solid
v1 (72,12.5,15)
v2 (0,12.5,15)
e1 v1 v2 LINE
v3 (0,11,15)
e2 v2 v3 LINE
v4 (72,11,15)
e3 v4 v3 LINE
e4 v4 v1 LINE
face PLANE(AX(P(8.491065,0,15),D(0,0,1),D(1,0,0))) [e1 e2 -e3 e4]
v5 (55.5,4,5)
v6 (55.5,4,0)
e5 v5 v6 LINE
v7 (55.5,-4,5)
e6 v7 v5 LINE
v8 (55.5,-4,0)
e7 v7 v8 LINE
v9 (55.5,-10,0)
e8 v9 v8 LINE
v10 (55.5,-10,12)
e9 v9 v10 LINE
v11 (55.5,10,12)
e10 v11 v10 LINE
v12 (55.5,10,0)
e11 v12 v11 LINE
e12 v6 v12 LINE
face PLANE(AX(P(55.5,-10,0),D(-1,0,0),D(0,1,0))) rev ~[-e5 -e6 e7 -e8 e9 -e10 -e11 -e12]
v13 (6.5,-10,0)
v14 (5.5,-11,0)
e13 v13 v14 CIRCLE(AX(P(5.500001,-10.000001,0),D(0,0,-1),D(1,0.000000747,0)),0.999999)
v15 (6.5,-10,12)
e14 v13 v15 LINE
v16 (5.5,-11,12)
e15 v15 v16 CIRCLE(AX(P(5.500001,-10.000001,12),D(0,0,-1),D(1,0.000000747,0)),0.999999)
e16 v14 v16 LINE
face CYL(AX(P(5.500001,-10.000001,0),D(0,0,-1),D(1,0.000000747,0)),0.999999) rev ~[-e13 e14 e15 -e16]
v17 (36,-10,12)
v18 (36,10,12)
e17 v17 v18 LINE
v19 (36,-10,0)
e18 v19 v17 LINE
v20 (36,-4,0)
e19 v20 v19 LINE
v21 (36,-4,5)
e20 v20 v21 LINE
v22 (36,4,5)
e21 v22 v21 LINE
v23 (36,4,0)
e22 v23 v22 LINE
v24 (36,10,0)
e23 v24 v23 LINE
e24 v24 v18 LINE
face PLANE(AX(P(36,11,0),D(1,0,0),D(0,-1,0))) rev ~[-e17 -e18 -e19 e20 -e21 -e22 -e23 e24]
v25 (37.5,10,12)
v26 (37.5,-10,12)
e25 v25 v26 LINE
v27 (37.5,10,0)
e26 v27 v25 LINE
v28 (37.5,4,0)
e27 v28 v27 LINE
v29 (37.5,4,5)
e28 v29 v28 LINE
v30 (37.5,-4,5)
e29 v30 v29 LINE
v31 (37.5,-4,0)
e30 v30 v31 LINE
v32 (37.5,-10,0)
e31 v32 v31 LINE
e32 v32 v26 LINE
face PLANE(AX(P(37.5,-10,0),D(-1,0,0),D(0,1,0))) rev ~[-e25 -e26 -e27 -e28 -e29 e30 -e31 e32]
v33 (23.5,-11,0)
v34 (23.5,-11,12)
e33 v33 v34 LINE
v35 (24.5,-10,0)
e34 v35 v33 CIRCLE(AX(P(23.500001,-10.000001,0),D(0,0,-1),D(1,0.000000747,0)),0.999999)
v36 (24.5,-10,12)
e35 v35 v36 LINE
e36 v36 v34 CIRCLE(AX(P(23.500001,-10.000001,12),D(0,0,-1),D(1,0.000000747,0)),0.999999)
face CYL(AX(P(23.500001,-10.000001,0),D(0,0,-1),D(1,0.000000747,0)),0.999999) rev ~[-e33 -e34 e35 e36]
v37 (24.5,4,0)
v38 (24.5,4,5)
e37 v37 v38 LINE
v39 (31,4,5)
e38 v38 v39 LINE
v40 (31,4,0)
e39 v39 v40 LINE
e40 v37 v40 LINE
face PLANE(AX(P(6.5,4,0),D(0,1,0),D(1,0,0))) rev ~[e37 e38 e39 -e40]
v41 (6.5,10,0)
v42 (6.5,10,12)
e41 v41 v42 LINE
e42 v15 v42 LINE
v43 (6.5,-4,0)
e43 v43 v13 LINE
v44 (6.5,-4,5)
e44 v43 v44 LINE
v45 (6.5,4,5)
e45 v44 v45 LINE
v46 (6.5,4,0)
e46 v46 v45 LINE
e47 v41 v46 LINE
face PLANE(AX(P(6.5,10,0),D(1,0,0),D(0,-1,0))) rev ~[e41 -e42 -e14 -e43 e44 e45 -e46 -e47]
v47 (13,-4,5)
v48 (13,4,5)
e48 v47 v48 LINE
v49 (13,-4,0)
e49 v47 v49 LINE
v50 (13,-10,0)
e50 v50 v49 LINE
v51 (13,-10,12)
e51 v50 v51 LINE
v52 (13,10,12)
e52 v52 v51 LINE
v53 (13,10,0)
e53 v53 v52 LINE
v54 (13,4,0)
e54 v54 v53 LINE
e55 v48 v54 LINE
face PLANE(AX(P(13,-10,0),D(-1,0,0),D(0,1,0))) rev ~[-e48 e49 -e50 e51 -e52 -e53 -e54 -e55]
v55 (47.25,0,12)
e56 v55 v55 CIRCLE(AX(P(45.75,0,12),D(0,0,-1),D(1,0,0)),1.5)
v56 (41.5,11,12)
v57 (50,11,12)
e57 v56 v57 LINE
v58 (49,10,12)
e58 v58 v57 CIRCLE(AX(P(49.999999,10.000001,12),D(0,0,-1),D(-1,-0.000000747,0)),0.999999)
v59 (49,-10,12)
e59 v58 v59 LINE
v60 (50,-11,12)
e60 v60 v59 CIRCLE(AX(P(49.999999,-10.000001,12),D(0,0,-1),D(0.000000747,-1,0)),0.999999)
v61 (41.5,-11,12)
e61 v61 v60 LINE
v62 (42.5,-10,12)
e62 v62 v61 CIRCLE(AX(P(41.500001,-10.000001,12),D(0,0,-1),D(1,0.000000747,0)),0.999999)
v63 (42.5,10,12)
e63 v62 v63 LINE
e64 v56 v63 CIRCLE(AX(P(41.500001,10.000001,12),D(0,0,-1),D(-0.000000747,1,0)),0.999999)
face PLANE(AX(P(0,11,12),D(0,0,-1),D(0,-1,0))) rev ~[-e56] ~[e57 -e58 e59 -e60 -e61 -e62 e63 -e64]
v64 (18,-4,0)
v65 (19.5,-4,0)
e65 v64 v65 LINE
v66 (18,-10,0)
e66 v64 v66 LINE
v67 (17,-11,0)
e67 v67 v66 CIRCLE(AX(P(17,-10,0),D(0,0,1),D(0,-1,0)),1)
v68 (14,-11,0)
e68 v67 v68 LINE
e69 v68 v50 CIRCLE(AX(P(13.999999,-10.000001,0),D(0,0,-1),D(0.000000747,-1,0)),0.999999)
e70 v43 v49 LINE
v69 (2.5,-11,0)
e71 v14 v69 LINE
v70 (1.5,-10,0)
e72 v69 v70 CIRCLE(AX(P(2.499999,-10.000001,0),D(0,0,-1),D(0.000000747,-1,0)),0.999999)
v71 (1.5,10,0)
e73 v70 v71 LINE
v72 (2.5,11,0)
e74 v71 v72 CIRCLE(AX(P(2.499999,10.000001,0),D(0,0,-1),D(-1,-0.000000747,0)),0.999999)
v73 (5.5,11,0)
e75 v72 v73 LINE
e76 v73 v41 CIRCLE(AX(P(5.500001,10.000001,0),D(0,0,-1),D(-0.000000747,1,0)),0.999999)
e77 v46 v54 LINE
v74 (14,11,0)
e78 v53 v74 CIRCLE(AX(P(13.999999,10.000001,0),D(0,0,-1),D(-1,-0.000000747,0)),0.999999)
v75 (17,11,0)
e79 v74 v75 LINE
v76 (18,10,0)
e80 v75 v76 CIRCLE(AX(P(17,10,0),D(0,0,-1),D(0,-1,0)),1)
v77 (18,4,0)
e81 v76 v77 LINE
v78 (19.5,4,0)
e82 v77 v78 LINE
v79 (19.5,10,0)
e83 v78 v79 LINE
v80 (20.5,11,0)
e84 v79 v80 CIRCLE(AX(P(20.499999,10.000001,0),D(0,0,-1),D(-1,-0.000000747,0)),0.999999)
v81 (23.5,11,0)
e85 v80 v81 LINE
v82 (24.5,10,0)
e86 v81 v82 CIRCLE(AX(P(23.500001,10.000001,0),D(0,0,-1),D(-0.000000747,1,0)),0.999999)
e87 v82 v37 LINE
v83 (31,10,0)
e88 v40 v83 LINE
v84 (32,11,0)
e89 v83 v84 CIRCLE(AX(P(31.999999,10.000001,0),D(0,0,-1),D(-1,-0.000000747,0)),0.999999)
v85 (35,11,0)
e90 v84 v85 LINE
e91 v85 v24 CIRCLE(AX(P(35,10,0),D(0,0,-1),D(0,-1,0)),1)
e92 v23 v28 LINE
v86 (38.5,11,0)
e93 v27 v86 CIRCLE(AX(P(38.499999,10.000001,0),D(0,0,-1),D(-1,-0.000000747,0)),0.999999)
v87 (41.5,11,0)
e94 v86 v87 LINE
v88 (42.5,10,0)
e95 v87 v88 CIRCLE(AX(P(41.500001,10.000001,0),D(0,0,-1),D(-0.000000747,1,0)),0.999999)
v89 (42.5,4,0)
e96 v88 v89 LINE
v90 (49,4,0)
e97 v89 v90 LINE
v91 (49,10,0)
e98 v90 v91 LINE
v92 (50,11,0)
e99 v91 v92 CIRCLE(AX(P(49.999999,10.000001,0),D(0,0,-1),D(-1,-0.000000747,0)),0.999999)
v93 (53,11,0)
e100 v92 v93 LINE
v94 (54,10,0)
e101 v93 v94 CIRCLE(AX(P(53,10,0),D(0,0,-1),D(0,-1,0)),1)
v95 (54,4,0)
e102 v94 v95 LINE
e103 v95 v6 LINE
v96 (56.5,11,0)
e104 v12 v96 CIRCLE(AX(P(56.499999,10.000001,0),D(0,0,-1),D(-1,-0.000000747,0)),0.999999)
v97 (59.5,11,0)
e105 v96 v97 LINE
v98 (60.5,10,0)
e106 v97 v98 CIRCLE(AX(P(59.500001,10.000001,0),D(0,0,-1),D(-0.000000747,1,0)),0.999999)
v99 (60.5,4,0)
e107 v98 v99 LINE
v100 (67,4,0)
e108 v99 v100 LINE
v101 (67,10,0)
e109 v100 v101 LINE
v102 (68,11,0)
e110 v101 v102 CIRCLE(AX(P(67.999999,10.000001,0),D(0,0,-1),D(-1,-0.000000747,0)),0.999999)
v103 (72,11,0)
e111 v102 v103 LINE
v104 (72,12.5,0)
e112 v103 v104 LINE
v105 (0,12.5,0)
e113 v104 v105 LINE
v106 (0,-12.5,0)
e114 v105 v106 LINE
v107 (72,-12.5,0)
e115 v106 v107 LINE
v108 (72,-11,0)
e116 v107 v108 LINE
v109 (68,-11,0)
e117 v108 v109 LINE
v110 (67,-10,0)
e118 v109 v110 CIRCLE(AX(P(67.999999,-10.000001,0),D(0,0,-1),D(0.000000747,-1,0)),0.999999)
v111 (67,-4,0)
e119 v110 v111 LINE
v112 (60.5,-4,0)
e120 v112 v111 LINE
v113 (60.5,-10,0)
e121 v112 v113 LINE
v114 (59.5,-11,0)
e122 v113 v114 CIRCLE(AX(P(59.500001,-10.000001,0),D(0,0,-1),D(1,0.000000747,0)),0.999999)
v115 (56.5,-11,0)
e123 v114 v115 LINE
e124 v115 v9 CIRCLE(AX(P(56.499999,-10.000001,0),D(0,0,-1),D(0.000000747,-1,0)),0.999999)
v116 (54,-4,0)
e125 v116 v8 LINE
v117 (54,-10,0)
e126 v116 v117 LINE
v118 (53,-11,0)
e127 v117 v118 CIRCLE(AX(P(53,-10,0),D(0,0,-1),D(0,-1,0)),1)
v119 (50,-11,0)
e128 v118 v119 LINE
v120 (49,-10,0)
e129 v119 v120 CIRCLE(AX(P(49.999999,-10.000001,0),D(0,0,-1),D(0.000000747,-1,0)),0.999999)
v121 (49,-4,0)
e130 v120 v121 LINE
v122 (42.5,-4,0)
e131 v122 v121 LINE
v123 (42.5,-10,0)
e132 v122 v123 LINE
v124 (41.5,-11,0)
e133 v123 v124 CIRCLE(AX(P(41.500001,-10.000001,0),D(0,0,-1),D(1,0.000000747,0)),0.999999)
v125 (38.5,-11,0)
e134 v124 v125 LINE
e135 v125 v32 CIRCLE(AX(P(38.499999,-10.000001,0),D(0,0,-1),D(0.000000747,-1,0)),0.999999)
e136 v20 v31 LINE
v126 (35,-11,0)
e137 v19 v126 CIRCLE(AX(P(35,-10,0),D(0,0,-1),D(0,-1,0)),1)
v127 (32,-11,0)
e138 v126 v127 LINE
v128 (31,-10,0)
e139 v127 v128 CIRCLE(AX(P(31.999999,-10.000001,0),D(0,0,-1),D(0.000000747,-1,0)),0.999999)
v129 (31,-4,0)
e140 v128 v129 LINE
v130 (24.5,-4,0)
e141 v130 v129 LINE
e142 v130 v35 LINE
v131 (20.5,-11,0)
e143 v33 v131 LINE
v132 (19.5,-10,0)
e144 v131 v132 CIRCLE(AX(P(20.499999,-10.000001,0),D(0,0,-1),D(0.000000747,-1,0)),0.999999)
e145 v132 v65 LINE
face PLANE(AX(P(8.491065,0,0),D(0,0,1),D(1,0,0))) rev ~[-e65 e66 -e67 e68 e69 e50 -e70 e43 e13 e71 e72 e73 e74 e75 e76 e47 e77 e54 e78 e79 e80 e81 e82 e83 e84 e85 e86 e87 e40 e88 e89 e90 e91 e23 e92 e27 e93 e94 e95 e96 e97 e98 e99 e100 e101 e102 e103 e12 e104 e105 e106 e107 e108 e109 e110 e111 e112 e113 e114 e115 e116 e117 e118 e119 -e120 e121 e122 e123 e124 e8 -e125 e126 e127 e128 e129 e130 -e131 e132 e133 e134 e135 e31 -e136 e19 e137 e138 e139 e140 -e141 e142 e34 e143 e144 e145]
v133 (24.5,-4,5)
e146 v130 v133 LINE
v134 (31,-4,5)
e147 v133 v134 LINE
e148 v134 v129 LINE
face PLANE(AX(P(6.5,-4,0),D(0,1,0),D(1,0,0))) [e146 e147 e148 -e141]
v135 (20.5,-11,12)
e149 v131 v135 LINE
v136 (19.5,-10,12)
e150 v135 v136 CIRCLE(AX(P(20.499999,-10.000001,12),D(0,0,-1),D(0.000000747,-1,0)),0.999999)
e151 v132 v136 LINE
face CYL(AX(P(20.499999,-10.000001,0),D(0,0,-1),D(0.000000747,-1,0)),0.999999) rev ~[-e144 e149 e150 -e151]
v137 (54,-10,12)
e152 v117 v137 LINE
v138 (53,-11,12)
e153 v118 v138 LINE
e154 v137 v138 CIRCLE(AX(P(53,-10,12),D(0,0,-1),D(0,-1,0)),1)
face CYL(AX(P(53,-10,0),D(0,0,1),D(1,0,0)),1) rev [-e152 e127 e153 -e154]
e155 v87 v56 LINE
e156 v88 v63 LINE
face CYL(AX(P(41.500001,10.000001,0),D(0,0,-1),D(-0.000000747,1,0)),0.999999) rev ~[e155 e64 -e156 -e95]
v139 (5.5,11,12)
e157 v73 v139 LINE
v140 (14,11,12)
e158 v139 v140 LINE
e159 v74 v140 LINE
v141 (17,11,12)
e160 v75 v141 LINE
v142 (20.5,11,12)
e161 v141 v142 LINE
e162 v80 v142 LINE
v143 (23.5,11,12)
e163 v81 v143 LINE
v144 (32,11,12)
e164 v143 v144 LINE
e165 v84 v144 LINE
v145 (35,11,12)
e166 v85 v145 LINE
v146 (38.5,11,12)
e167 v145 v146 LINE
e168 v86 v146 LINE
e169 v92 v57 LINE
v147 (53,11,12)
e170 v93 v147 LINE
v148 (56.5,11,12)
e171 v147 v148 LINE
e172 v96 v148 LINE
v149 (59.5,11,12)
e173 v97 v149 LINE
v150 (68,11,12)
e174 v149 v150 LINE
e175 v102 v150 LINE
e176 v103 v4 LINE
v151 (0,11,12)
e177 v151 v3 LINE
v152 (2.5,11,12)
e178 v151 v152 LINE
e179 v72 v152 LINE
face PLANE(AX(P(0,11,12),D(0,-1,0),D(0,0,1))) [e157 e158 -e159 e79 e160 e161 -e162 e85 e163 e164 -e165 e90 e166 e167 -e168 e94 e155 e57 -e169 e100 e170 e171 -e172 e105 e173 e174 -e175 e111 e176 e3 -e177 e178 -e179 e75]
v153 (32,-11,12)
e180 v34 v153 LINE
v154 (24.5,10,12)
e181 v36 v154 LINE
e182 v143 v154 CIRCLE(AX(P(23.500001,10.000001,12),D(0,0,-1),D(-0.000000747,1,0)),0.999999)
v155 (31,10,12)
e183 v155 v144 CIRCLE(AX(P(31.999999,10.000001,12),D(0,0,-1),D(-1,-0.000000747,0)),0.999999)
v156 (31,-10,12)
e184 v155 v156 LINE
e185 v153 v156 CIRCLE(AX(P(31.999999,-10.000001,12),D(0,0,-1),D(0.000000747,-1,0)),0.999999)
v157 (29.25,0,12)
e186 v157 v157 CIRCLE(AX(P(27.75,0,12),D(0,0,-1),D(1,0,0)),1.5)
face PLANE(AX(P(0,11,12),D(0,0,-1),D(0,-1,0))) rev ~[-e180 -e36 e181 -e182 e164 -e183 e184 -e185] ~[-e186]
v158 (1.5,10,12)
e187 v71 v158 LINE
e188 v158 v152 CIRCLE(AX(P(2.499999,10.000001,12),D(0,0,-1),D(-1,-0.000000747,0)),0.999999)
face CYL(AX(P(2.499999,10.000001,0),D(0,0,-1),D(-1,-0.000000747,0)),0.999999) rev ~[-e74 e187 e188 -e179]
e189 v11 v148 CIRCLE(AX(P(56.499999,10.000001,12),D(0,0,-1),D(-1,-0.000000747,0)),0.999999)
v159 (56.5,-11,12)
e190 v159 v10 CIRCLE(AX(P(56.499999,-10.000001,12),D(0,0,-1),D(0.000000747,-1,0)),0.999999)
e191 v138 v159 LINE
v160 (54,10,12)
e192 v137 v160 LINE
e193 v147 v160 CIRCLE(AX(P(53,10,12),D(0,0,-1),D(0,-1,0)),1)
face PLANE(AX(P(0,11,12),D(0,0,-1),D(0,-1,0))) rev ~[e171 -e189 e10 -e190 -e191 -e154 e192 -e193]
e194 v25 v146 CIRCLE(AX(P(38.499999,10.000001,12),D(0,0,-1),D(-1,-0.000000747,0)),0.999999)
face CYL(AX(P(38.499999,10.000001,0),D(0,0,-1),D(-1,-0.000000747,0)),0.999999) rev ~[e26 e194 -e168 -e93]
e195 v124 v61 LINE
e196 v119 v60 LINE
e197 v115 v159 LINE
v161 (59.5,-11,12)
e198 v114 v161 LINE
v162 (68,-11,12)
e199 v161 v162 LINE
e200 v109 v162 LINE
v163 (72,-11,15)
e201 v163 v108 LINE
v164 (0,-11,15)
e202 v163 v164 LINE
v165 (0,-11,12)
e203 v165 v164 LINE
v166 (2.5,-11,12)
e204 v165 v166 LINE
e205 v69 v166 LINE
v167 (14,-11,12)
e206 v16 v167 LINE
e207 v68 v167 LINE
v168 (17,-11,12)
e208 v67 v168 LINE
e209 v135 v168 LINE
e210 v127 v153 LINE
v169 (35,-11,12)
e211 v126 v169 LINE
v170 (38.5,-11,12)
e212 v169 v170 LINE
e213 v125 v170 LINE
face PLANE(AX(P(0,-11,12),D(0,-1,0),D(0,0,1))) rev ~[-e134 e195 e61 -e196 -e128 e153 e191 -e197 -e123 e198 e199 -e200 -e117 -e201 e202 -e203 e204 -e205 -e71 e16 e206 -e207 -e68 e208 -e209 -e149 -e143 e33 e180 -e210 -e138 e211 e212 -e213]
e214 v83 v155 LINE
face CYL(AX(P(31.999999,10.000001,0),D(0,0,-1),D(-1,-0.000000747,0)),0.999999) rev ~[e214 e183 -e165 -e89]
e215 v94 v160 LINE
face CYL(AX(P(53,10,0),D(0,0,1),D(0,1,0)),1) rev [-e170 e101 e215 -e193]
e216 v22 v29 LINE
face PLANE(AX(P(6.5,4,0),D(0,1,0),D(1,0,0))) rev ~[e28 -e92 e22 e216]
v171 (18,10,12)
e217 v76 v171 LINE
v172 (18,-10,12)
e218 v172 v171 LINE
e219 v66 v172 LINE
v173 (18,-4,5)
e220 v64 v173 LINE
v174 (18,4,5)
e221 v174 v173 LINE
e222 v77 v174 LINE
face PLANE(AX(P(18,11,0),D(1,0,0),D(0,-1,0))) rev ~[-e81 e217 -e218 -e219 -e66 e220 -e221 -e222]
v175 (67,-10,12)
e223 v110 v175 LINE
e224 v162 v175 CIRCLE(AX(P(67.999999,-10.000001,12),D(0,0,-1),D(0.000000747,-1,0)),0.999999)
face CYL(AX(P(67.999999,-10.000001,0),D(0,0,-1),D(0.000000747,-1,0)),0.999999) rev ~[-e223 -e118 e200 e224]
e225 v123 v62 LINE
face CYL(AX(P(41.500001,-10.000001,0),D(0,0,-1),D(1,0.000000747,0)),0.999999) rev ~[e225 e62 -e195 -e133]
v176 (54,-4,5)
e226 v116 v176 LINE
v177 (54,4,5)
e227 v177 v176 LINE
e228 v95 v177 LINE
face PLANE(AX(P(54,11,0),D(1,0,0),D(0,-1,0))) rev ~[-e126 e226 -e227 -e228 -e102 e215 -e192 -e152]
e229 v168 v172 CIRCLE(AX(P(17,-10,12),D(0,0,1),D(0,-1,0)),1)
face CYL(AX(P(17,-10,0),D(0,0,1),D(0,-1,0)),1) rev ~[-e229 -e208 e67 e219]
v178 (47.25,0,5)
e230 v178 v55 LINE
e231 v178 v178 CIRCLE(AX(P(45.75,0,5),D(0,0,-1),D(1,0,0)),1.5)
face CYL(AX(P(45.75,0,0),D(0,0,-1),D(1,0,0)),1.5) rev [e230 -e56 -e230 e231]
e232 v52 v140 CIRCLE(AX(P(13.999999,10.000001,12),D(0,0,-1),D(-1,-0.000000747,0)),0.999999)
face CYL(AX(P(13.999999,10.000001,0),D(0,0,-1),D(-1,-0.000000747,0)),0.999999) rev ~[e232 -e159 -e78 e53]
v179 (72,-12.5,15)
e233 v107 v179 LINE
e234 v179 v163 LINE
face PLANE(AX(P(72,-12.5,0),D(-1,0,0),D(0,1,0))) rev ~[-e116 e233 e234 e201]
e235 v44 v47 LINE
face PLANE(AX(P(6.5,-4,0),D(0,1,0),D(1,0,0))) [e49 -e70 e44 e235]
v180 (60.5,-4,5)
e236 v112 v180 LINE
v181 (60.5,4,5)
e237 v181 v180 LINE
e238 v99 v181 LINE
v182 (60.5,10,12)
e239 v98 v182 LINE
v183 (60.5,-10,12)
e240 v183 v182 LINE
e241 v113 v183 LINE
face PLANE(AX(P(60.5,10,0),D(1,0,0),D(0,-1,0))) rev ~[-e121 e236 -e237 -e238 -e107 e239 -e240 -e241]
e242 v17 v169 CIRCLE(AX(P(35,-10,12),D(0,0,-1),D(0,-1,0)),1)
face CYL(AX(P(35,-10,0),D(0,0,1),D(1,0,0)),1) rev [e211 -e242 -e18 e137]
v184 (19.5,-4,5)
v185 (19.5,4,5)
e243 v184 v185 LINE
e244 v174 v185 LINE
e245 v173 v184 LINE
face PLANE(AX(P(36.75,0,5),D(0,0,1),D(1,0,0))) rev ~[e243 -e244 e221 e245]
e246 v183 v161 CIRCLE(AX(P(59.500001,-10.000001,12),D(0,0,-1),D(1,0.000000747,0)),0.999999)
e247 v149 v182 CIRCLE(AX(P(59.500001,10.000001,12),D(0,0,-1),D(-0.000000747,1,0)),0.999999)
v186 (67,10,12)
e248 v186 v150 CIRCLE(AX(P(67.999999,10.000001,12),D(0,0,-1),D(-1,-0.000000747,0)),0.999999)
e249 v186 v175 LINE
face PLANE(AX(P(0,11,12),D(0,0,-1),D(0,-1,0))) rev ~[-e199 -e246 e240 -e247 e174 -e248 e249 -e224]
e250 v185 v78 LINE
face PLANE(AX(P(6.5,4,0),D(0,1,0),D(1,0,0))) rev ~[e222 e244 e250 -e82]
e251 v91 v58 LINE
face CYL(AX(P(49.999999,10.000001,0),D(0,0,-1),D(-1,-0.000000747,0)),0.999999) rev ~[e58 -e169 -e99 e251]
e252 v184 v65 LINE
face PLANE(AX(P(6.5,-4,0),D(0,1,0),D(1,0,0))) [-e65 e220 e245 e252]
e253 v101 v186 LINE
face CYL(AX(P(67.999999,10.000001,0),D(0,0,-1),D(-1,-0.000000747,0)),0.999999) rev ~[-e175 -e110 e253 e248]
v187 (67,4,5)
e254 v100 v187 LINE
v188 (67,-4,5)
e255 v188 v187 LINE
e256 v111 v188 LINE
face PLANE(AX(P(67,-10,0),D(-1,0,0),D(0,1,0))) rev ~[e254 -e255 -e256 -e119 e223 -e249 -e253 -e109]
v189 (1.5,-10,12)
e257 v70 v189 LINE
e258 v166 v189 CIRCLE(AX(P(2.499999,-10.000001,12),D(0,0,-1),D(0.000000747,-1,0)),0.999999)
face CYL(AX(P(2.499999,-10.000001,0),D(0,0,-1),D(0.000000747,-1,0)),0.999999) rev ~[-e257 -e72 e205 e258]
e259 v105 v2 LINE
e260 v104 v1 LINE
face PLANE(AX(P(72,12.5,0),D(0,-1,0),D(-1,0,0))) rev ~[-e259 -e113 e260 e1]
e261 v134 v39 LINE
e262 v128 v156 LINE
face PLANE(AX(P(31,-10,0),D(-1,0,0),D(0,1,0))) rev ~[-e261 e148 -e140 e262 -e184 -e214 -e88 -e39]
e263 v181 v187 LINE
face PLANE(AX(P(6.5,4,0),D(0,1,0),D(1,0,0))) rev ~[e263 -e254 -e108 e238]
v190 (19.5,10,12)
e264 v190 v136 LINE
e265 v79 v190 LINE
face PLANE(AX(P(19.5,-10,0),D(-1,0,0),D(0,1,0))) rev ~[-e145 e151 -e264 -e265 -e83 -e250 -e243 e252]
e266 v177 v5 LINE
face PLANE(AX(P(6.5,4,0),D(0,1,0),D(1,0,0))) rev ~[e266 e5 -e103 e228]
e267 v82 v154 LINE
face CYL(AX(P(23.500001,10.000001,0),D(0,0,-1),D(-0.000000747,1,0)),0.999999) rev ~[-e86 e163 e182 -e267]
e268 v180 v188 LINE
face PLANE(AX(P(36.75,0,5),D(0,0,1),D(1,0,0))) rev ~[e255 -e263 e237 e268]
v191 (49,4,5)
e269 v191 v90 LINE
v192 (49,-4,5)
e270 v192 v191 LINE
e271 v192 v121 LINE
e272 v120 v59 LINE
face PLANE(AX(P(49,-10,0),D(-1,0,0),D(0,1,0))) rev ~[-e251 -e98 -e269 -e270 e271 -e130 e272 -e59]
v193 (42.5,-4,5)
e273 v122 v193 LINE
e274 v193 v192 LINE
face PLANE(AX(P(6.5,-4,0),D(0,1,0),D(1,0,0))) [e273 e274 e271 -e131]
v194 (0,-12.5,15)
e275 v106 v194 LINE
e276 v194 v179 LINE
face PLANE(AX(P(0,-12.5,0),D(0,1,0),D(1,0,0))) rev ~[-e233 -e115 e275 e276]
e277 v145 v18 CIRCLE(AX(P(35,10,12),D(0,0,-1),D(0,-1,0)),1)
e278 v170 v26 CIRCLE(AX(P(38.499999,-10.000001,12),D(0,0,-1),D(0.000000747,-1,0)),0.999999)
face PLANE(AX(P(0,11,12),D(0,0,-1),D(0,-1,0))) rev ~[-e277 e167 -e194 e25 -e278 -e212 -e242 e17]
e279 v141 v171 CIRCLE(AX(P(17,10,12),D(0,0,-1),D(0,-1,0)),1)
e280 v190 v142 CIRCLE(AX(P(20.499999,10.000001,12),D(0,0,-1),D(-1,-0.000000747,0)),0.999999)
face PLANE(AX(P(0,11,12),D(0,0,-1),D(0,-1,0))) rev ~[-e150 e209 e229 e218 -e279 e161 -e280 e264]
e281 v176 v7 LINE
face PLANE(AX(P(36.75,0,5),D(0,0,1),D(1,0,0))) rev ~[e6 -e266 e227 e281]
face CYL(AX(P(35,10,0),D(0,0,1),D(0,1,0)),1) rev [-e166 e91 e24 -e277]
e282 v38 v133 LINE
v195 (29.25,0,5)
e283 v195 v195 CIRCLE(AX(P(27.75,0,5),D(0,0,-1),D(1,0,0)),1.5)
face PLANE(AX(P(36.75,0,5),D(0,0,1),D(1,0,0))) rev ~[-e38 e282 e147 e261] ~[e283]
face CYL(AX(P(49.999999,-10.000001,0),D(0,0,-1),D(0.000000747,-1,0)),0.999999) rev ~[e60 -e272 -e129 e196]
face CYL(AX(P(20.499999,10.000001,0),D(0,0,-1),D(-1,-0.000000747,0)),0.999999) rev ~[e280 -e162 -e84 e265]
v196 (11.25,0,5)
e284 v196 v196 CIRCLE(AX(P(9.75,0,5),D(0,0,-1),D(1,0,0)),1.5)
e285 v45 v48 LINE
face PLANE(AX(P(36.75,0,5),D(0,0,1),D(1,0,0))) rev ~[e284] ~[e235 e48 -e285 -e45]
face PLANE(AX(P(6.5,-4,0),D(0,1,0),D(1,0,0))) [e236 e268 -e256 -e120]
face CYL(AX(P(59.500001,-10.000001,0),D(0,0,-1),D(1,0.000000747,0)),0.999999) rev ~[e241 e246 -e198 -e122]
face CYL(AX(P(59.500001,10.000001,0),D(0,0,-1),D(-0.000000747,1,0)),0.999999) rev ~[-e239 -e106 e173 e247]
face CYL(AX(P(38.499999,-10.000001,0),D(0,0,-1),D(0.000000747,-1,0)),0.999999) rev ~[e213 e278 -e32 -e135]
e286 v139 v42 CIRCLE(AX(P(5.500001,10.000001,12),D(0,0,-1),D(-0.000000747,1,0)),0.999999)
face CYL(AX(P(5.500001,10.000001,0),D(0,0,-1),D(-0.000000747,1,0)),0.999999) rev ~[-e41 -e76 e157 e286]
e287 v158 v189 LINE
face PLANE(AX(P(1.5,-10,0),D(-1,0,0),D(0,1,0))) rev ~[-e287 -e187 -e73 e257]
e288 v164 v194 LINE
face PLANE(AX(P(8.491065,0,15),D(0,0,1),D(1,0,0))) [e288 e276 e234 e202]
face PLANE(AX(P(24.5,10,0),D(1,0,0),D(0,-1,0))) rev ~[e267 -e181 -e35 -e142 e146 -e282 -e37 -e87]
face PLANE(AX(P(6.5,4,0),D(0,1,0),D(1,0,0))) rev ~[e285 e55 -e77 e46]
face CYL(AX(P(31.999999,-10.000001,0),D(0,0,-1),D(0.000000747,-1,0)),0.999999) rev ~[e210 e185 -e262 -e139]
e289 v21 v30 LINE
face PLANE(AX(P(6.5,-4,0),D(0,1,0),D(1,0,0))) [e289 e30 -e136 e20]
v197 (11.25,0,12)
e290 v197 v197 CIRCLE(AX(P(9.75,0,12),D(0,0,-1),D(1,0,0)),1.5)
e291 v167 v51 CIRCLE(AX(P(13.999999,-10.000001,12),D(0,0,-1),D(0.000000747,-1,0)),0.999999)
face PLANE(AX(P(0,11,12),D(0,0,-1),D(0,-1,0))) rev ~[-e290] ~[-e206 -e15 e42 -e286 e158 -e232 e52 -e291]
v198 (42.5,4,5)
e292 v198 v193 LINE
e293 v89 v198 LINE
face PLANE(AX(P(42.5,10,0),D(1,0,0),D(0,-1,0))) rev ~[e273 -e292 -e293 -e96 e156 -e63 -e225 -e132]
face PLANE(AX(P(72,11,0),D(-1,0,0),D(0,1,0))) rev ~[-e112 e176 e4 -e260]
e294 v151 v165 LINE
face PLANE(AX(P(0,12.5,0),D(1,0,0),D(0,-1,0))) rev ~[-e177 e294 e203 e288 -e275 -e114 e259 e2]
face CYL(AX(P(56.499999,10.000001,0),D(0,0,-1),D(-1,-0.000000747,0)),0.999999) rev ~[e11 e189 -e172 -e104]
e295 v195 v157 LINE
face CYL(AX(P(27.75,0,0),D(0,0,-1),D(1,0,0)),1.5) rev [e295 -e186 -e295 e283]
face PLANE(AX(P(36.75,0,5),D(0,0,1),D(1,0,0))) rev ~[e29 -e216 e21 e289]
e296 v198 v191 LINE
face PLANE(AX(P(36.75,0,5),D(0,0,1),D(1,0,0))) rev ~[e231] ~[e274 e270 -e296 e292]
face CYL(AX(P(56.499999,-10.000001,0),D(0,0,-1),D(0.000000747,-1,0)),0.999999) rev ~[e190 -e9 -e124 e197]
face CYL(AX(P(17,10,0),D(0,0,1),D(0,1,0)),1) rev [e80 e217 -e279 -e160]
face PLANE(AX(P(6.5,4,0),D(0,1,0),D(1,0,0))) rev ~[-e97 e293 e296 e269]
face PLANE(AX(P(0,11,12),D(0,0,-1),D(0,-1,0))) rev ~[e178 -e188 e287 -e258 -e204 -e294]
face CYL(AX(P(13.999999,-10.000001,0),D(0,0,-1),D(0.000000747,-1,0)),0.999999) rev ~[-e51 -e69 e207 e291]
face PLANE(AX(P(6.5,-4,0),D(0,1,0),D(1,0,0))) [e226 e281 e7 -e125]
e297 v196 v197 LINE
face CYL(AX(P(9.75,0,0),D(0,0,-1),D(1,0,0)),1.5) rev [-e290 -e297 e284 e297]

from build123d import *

# Parameters (mm, degrees)
F0_R     = 1.5
F1_DEPTH = 15
F2_W     = 60.5
F2_H     = 8
F3_DEPTH = 5
F4_W     = 22
F4_H     = 3
F5_DEPTH = 120
F6_R     = 1
F7_R     = 1
F8_R     = 1


with BuildPart() as f1:
    # F0 (on Top) → F1 (new body)
    with BuildSketch(Plane.XY):
        with BuildLine():
            Line((18, 12.5), (0, 12.5))
            Line((0, 12.5), (0, -12.5))
            Line((0, -12.5), (18, -12.5))
            Line((18, -12.5), (18, -11))
            Line((18, -11), (14, -11))
            ThreePointArc((14, -11), (13.292893, -10.707107), (13, -10))
            Line((13, -10), (13, 10))
            ThreePointArc((13, 10), (13.292893, 10.707107), (14, 11))
            Line((14, 11), (18, 11))
            Line((18, 11), (18, 12.5))
        make_face()
        with BuildLine():
            ThreePointArc((1.5, 10), (1.792893, 10.707107), (2.5, 11))
            Line((2.5, 11), (5.5, 11))
            ThreePointArc((5.5, 11), (6.207107, 10.707107), (6.5, 10))
            Line((6.5, 10), (6.5, -10))
            ThreePointArc((6.5, -10), (6.207107, -10.707107), (5.5, -11))
            Line((5.5, -11), (2.5, -11))
            ThreePointArc((2.5, -11), (1.792893, -10.707107), (1.5, -10))
            Line((1.5, -10), (1.5, 10))
        make_face(mode=Mode.SUBTRACT)
        with Locations((9.75, 0)):
            Circle(F0_R, mode=Mode.SUBTRACT)
        with BuildLine():
            Line((36, 12.5), (18, 12.5))
            Line((18, 12.5), (18, 11))
            Line((18, 11), (18, -11))
            Line((18, -11), (18, -12.5))
            Line((18, -12.5), (36, -12.5))
            Line((36, -12.5), (36, -11))
            Line((36, -11), (32, -11))
            ThreePointArc((32, -11), (31.292893, -10.707107), (31, -10))
            Line((31, -10), (31, 10))
            ThreePointArc((31, 10), (31.292893, 10.707107), (32, 11))
            Line((32, 11), (36, 11))
            Line((36, 11), (36, 12.5))
        make_face()
        with BuildLine():
            ThreePointArc((23.5, 11), (24.207107, 10.707107), (24.5, 10))
            Line((24.5, 10), (24.5, -10))
            ThreePointArc((24.5, -10), (24.207107, -10.707107), (23.5, -11))
            Line((23.5, -11), (20.5, -11))
            ThreePointArc((20.5, -11), (19.792893, -10.707107), (19.5, -10))
            Line((19.5, -10), (19.5, 10))
            ThreePointArc((19.5, 10), (19.792893, 10.707107), (20.5, 11))
            Line((20.5, 11), (23.5, 11))
        make_face(mode=Mode.SUBTRACT)
        with Locations((27.75, 0)):
            Circle(F0_R, mode=Mode.SUBTRACT)
        with BuildLine():
            Line((54, 12.5), (36, 12.5))
            Line((36, 12.5), (36, 11))
            Line((36, 11), (36, -11))
            Line((36, -11), (36, -12.5))
            Line((36, -12.5), (54, -12.5))
            Line((54, -12.5), (54, -11))
            Line((54, -11), (50, -11))
            ThreePointArc((50, -11), (49.292893, -10.707107), (49, -10))
            Line((49, -10), (49, 10))
            ThreePointArc((49, 10), (49.292893, 10.707107), (50, 11))
            Line((50, 11), (54, 11))
            Line((54, 11), (54, 12.5))
        make_face()
        with BuildLine():
            ThreePointArc((41.5, 11), (42.207107, 10.707107), (42.5, 10))
            Line((42.5, 10), (42.5, -10))
            ThreePointArc((42.5, -10), (42.207107, -10.707107), (41.5, -11))
            Line((41.5, -11), (38.5, -11))
            ThreePointArc((38.5, -11), (37.792893, -10.707107), (37.5, -10))
            Line((37.5, -10), (37.5, 10))
            ThreePointArc((37.5, 10), (37.792893, 10.707107), (38.5, 11))
            Line((38.5, 11), (41.5, 11))
        make_face(mode=Mode.SUBTRACT)
        with Locations((45.75, 0)):
            Circle(F0_R, mode=Mode.SUBTRACT)
        with BuildLine():
            Line((72, 12.5), (54, 12.5))
            Line((54, 12.5), (54, 11))
            Line((54, 11), (54, -11))
            Line((54, -11), (54, -12.5))
            Line((54, -12.5), (72, -12.5))
            Line((72, -12.5), (72, -11))
            Line((72, -11), (68, -11))
            ThreePointArc((68, -11), (67.292893, -10.707107), (67, -10))
            Line((67, -10), (67, 10))
            ThreePointArc((67, 10), (67.292893, 10.707107), (68, 11))
            Line((68, 11), (72, 11))
            Line((72, 11), (72, 12.5))
        make_face()
        with BuildLine():
            ThreePointArc((59.5, 11), (60.207107, 10.707107), (60.5, 10))
            Line((60.5, 10), (60.5, -10))
            ThreePointArc((60.5, -10), (60.207107, -10.707107), (59.5, -11))
            Line((59.5, -11), (56.5, -11))
            ThreePointArc((56.5, -11), (55.792893, -10.707107), (55.5, -10))
            Line((55.5, -10), (55.5, 10))
            ThreePointArc((55.5, 10), (55.792893, 10.707107), (56.5, 11))
            Line((56.5, 11), (59.5, 11))
        make_face(mode=Mode.SUBTRACT)
    extrude(amount=F1_DEPTH)

    # F2 (on Top) → F3 (cut)
    with BuildSketch(Plane.XY):
        with Locations((36.75, 0)):
            Rectangle(F2_W, F2_H)
    extrude(amount=F3_DEPTH, mode=Mode.SUBTRACT)

    # F4 (on face) → F5 (cut)
    with BuildSketch(Plane(origin=(0, 0, 0), x_dir=(0, -1, 0), z_dir=(-1, 0, 0))):
        with Locations((0, 13.5)):
            Rectangle(F4_W, F4_H)
    extrude(amount=-F5_DEPTH, mode=Mode.SUBTRACT)

    # F6
    f6_edges = [f1.edges().sort_by_distance(p)[0] for p in [
        (54, 11, 6),
        (36, 11, 6),
        (54, -11, 6),
        (36, -11, 6),
    ]]
    fillet(f6_edges, radius=F6_R)

    # F7
    f7_edges = [f1.edges().sort_by_distance(p)[0] for p in [
        (18, 11, 6),
    ]]
    fillet(f7_edges, radius=F7_R)

    # F8
    f8_edges = [f1.edges().sort_by_distance(p)[0] for p in [
        (18, -11, 6),
    ]]
    fillet(f8_edges, radius=F8_R)


solid = f1.part
